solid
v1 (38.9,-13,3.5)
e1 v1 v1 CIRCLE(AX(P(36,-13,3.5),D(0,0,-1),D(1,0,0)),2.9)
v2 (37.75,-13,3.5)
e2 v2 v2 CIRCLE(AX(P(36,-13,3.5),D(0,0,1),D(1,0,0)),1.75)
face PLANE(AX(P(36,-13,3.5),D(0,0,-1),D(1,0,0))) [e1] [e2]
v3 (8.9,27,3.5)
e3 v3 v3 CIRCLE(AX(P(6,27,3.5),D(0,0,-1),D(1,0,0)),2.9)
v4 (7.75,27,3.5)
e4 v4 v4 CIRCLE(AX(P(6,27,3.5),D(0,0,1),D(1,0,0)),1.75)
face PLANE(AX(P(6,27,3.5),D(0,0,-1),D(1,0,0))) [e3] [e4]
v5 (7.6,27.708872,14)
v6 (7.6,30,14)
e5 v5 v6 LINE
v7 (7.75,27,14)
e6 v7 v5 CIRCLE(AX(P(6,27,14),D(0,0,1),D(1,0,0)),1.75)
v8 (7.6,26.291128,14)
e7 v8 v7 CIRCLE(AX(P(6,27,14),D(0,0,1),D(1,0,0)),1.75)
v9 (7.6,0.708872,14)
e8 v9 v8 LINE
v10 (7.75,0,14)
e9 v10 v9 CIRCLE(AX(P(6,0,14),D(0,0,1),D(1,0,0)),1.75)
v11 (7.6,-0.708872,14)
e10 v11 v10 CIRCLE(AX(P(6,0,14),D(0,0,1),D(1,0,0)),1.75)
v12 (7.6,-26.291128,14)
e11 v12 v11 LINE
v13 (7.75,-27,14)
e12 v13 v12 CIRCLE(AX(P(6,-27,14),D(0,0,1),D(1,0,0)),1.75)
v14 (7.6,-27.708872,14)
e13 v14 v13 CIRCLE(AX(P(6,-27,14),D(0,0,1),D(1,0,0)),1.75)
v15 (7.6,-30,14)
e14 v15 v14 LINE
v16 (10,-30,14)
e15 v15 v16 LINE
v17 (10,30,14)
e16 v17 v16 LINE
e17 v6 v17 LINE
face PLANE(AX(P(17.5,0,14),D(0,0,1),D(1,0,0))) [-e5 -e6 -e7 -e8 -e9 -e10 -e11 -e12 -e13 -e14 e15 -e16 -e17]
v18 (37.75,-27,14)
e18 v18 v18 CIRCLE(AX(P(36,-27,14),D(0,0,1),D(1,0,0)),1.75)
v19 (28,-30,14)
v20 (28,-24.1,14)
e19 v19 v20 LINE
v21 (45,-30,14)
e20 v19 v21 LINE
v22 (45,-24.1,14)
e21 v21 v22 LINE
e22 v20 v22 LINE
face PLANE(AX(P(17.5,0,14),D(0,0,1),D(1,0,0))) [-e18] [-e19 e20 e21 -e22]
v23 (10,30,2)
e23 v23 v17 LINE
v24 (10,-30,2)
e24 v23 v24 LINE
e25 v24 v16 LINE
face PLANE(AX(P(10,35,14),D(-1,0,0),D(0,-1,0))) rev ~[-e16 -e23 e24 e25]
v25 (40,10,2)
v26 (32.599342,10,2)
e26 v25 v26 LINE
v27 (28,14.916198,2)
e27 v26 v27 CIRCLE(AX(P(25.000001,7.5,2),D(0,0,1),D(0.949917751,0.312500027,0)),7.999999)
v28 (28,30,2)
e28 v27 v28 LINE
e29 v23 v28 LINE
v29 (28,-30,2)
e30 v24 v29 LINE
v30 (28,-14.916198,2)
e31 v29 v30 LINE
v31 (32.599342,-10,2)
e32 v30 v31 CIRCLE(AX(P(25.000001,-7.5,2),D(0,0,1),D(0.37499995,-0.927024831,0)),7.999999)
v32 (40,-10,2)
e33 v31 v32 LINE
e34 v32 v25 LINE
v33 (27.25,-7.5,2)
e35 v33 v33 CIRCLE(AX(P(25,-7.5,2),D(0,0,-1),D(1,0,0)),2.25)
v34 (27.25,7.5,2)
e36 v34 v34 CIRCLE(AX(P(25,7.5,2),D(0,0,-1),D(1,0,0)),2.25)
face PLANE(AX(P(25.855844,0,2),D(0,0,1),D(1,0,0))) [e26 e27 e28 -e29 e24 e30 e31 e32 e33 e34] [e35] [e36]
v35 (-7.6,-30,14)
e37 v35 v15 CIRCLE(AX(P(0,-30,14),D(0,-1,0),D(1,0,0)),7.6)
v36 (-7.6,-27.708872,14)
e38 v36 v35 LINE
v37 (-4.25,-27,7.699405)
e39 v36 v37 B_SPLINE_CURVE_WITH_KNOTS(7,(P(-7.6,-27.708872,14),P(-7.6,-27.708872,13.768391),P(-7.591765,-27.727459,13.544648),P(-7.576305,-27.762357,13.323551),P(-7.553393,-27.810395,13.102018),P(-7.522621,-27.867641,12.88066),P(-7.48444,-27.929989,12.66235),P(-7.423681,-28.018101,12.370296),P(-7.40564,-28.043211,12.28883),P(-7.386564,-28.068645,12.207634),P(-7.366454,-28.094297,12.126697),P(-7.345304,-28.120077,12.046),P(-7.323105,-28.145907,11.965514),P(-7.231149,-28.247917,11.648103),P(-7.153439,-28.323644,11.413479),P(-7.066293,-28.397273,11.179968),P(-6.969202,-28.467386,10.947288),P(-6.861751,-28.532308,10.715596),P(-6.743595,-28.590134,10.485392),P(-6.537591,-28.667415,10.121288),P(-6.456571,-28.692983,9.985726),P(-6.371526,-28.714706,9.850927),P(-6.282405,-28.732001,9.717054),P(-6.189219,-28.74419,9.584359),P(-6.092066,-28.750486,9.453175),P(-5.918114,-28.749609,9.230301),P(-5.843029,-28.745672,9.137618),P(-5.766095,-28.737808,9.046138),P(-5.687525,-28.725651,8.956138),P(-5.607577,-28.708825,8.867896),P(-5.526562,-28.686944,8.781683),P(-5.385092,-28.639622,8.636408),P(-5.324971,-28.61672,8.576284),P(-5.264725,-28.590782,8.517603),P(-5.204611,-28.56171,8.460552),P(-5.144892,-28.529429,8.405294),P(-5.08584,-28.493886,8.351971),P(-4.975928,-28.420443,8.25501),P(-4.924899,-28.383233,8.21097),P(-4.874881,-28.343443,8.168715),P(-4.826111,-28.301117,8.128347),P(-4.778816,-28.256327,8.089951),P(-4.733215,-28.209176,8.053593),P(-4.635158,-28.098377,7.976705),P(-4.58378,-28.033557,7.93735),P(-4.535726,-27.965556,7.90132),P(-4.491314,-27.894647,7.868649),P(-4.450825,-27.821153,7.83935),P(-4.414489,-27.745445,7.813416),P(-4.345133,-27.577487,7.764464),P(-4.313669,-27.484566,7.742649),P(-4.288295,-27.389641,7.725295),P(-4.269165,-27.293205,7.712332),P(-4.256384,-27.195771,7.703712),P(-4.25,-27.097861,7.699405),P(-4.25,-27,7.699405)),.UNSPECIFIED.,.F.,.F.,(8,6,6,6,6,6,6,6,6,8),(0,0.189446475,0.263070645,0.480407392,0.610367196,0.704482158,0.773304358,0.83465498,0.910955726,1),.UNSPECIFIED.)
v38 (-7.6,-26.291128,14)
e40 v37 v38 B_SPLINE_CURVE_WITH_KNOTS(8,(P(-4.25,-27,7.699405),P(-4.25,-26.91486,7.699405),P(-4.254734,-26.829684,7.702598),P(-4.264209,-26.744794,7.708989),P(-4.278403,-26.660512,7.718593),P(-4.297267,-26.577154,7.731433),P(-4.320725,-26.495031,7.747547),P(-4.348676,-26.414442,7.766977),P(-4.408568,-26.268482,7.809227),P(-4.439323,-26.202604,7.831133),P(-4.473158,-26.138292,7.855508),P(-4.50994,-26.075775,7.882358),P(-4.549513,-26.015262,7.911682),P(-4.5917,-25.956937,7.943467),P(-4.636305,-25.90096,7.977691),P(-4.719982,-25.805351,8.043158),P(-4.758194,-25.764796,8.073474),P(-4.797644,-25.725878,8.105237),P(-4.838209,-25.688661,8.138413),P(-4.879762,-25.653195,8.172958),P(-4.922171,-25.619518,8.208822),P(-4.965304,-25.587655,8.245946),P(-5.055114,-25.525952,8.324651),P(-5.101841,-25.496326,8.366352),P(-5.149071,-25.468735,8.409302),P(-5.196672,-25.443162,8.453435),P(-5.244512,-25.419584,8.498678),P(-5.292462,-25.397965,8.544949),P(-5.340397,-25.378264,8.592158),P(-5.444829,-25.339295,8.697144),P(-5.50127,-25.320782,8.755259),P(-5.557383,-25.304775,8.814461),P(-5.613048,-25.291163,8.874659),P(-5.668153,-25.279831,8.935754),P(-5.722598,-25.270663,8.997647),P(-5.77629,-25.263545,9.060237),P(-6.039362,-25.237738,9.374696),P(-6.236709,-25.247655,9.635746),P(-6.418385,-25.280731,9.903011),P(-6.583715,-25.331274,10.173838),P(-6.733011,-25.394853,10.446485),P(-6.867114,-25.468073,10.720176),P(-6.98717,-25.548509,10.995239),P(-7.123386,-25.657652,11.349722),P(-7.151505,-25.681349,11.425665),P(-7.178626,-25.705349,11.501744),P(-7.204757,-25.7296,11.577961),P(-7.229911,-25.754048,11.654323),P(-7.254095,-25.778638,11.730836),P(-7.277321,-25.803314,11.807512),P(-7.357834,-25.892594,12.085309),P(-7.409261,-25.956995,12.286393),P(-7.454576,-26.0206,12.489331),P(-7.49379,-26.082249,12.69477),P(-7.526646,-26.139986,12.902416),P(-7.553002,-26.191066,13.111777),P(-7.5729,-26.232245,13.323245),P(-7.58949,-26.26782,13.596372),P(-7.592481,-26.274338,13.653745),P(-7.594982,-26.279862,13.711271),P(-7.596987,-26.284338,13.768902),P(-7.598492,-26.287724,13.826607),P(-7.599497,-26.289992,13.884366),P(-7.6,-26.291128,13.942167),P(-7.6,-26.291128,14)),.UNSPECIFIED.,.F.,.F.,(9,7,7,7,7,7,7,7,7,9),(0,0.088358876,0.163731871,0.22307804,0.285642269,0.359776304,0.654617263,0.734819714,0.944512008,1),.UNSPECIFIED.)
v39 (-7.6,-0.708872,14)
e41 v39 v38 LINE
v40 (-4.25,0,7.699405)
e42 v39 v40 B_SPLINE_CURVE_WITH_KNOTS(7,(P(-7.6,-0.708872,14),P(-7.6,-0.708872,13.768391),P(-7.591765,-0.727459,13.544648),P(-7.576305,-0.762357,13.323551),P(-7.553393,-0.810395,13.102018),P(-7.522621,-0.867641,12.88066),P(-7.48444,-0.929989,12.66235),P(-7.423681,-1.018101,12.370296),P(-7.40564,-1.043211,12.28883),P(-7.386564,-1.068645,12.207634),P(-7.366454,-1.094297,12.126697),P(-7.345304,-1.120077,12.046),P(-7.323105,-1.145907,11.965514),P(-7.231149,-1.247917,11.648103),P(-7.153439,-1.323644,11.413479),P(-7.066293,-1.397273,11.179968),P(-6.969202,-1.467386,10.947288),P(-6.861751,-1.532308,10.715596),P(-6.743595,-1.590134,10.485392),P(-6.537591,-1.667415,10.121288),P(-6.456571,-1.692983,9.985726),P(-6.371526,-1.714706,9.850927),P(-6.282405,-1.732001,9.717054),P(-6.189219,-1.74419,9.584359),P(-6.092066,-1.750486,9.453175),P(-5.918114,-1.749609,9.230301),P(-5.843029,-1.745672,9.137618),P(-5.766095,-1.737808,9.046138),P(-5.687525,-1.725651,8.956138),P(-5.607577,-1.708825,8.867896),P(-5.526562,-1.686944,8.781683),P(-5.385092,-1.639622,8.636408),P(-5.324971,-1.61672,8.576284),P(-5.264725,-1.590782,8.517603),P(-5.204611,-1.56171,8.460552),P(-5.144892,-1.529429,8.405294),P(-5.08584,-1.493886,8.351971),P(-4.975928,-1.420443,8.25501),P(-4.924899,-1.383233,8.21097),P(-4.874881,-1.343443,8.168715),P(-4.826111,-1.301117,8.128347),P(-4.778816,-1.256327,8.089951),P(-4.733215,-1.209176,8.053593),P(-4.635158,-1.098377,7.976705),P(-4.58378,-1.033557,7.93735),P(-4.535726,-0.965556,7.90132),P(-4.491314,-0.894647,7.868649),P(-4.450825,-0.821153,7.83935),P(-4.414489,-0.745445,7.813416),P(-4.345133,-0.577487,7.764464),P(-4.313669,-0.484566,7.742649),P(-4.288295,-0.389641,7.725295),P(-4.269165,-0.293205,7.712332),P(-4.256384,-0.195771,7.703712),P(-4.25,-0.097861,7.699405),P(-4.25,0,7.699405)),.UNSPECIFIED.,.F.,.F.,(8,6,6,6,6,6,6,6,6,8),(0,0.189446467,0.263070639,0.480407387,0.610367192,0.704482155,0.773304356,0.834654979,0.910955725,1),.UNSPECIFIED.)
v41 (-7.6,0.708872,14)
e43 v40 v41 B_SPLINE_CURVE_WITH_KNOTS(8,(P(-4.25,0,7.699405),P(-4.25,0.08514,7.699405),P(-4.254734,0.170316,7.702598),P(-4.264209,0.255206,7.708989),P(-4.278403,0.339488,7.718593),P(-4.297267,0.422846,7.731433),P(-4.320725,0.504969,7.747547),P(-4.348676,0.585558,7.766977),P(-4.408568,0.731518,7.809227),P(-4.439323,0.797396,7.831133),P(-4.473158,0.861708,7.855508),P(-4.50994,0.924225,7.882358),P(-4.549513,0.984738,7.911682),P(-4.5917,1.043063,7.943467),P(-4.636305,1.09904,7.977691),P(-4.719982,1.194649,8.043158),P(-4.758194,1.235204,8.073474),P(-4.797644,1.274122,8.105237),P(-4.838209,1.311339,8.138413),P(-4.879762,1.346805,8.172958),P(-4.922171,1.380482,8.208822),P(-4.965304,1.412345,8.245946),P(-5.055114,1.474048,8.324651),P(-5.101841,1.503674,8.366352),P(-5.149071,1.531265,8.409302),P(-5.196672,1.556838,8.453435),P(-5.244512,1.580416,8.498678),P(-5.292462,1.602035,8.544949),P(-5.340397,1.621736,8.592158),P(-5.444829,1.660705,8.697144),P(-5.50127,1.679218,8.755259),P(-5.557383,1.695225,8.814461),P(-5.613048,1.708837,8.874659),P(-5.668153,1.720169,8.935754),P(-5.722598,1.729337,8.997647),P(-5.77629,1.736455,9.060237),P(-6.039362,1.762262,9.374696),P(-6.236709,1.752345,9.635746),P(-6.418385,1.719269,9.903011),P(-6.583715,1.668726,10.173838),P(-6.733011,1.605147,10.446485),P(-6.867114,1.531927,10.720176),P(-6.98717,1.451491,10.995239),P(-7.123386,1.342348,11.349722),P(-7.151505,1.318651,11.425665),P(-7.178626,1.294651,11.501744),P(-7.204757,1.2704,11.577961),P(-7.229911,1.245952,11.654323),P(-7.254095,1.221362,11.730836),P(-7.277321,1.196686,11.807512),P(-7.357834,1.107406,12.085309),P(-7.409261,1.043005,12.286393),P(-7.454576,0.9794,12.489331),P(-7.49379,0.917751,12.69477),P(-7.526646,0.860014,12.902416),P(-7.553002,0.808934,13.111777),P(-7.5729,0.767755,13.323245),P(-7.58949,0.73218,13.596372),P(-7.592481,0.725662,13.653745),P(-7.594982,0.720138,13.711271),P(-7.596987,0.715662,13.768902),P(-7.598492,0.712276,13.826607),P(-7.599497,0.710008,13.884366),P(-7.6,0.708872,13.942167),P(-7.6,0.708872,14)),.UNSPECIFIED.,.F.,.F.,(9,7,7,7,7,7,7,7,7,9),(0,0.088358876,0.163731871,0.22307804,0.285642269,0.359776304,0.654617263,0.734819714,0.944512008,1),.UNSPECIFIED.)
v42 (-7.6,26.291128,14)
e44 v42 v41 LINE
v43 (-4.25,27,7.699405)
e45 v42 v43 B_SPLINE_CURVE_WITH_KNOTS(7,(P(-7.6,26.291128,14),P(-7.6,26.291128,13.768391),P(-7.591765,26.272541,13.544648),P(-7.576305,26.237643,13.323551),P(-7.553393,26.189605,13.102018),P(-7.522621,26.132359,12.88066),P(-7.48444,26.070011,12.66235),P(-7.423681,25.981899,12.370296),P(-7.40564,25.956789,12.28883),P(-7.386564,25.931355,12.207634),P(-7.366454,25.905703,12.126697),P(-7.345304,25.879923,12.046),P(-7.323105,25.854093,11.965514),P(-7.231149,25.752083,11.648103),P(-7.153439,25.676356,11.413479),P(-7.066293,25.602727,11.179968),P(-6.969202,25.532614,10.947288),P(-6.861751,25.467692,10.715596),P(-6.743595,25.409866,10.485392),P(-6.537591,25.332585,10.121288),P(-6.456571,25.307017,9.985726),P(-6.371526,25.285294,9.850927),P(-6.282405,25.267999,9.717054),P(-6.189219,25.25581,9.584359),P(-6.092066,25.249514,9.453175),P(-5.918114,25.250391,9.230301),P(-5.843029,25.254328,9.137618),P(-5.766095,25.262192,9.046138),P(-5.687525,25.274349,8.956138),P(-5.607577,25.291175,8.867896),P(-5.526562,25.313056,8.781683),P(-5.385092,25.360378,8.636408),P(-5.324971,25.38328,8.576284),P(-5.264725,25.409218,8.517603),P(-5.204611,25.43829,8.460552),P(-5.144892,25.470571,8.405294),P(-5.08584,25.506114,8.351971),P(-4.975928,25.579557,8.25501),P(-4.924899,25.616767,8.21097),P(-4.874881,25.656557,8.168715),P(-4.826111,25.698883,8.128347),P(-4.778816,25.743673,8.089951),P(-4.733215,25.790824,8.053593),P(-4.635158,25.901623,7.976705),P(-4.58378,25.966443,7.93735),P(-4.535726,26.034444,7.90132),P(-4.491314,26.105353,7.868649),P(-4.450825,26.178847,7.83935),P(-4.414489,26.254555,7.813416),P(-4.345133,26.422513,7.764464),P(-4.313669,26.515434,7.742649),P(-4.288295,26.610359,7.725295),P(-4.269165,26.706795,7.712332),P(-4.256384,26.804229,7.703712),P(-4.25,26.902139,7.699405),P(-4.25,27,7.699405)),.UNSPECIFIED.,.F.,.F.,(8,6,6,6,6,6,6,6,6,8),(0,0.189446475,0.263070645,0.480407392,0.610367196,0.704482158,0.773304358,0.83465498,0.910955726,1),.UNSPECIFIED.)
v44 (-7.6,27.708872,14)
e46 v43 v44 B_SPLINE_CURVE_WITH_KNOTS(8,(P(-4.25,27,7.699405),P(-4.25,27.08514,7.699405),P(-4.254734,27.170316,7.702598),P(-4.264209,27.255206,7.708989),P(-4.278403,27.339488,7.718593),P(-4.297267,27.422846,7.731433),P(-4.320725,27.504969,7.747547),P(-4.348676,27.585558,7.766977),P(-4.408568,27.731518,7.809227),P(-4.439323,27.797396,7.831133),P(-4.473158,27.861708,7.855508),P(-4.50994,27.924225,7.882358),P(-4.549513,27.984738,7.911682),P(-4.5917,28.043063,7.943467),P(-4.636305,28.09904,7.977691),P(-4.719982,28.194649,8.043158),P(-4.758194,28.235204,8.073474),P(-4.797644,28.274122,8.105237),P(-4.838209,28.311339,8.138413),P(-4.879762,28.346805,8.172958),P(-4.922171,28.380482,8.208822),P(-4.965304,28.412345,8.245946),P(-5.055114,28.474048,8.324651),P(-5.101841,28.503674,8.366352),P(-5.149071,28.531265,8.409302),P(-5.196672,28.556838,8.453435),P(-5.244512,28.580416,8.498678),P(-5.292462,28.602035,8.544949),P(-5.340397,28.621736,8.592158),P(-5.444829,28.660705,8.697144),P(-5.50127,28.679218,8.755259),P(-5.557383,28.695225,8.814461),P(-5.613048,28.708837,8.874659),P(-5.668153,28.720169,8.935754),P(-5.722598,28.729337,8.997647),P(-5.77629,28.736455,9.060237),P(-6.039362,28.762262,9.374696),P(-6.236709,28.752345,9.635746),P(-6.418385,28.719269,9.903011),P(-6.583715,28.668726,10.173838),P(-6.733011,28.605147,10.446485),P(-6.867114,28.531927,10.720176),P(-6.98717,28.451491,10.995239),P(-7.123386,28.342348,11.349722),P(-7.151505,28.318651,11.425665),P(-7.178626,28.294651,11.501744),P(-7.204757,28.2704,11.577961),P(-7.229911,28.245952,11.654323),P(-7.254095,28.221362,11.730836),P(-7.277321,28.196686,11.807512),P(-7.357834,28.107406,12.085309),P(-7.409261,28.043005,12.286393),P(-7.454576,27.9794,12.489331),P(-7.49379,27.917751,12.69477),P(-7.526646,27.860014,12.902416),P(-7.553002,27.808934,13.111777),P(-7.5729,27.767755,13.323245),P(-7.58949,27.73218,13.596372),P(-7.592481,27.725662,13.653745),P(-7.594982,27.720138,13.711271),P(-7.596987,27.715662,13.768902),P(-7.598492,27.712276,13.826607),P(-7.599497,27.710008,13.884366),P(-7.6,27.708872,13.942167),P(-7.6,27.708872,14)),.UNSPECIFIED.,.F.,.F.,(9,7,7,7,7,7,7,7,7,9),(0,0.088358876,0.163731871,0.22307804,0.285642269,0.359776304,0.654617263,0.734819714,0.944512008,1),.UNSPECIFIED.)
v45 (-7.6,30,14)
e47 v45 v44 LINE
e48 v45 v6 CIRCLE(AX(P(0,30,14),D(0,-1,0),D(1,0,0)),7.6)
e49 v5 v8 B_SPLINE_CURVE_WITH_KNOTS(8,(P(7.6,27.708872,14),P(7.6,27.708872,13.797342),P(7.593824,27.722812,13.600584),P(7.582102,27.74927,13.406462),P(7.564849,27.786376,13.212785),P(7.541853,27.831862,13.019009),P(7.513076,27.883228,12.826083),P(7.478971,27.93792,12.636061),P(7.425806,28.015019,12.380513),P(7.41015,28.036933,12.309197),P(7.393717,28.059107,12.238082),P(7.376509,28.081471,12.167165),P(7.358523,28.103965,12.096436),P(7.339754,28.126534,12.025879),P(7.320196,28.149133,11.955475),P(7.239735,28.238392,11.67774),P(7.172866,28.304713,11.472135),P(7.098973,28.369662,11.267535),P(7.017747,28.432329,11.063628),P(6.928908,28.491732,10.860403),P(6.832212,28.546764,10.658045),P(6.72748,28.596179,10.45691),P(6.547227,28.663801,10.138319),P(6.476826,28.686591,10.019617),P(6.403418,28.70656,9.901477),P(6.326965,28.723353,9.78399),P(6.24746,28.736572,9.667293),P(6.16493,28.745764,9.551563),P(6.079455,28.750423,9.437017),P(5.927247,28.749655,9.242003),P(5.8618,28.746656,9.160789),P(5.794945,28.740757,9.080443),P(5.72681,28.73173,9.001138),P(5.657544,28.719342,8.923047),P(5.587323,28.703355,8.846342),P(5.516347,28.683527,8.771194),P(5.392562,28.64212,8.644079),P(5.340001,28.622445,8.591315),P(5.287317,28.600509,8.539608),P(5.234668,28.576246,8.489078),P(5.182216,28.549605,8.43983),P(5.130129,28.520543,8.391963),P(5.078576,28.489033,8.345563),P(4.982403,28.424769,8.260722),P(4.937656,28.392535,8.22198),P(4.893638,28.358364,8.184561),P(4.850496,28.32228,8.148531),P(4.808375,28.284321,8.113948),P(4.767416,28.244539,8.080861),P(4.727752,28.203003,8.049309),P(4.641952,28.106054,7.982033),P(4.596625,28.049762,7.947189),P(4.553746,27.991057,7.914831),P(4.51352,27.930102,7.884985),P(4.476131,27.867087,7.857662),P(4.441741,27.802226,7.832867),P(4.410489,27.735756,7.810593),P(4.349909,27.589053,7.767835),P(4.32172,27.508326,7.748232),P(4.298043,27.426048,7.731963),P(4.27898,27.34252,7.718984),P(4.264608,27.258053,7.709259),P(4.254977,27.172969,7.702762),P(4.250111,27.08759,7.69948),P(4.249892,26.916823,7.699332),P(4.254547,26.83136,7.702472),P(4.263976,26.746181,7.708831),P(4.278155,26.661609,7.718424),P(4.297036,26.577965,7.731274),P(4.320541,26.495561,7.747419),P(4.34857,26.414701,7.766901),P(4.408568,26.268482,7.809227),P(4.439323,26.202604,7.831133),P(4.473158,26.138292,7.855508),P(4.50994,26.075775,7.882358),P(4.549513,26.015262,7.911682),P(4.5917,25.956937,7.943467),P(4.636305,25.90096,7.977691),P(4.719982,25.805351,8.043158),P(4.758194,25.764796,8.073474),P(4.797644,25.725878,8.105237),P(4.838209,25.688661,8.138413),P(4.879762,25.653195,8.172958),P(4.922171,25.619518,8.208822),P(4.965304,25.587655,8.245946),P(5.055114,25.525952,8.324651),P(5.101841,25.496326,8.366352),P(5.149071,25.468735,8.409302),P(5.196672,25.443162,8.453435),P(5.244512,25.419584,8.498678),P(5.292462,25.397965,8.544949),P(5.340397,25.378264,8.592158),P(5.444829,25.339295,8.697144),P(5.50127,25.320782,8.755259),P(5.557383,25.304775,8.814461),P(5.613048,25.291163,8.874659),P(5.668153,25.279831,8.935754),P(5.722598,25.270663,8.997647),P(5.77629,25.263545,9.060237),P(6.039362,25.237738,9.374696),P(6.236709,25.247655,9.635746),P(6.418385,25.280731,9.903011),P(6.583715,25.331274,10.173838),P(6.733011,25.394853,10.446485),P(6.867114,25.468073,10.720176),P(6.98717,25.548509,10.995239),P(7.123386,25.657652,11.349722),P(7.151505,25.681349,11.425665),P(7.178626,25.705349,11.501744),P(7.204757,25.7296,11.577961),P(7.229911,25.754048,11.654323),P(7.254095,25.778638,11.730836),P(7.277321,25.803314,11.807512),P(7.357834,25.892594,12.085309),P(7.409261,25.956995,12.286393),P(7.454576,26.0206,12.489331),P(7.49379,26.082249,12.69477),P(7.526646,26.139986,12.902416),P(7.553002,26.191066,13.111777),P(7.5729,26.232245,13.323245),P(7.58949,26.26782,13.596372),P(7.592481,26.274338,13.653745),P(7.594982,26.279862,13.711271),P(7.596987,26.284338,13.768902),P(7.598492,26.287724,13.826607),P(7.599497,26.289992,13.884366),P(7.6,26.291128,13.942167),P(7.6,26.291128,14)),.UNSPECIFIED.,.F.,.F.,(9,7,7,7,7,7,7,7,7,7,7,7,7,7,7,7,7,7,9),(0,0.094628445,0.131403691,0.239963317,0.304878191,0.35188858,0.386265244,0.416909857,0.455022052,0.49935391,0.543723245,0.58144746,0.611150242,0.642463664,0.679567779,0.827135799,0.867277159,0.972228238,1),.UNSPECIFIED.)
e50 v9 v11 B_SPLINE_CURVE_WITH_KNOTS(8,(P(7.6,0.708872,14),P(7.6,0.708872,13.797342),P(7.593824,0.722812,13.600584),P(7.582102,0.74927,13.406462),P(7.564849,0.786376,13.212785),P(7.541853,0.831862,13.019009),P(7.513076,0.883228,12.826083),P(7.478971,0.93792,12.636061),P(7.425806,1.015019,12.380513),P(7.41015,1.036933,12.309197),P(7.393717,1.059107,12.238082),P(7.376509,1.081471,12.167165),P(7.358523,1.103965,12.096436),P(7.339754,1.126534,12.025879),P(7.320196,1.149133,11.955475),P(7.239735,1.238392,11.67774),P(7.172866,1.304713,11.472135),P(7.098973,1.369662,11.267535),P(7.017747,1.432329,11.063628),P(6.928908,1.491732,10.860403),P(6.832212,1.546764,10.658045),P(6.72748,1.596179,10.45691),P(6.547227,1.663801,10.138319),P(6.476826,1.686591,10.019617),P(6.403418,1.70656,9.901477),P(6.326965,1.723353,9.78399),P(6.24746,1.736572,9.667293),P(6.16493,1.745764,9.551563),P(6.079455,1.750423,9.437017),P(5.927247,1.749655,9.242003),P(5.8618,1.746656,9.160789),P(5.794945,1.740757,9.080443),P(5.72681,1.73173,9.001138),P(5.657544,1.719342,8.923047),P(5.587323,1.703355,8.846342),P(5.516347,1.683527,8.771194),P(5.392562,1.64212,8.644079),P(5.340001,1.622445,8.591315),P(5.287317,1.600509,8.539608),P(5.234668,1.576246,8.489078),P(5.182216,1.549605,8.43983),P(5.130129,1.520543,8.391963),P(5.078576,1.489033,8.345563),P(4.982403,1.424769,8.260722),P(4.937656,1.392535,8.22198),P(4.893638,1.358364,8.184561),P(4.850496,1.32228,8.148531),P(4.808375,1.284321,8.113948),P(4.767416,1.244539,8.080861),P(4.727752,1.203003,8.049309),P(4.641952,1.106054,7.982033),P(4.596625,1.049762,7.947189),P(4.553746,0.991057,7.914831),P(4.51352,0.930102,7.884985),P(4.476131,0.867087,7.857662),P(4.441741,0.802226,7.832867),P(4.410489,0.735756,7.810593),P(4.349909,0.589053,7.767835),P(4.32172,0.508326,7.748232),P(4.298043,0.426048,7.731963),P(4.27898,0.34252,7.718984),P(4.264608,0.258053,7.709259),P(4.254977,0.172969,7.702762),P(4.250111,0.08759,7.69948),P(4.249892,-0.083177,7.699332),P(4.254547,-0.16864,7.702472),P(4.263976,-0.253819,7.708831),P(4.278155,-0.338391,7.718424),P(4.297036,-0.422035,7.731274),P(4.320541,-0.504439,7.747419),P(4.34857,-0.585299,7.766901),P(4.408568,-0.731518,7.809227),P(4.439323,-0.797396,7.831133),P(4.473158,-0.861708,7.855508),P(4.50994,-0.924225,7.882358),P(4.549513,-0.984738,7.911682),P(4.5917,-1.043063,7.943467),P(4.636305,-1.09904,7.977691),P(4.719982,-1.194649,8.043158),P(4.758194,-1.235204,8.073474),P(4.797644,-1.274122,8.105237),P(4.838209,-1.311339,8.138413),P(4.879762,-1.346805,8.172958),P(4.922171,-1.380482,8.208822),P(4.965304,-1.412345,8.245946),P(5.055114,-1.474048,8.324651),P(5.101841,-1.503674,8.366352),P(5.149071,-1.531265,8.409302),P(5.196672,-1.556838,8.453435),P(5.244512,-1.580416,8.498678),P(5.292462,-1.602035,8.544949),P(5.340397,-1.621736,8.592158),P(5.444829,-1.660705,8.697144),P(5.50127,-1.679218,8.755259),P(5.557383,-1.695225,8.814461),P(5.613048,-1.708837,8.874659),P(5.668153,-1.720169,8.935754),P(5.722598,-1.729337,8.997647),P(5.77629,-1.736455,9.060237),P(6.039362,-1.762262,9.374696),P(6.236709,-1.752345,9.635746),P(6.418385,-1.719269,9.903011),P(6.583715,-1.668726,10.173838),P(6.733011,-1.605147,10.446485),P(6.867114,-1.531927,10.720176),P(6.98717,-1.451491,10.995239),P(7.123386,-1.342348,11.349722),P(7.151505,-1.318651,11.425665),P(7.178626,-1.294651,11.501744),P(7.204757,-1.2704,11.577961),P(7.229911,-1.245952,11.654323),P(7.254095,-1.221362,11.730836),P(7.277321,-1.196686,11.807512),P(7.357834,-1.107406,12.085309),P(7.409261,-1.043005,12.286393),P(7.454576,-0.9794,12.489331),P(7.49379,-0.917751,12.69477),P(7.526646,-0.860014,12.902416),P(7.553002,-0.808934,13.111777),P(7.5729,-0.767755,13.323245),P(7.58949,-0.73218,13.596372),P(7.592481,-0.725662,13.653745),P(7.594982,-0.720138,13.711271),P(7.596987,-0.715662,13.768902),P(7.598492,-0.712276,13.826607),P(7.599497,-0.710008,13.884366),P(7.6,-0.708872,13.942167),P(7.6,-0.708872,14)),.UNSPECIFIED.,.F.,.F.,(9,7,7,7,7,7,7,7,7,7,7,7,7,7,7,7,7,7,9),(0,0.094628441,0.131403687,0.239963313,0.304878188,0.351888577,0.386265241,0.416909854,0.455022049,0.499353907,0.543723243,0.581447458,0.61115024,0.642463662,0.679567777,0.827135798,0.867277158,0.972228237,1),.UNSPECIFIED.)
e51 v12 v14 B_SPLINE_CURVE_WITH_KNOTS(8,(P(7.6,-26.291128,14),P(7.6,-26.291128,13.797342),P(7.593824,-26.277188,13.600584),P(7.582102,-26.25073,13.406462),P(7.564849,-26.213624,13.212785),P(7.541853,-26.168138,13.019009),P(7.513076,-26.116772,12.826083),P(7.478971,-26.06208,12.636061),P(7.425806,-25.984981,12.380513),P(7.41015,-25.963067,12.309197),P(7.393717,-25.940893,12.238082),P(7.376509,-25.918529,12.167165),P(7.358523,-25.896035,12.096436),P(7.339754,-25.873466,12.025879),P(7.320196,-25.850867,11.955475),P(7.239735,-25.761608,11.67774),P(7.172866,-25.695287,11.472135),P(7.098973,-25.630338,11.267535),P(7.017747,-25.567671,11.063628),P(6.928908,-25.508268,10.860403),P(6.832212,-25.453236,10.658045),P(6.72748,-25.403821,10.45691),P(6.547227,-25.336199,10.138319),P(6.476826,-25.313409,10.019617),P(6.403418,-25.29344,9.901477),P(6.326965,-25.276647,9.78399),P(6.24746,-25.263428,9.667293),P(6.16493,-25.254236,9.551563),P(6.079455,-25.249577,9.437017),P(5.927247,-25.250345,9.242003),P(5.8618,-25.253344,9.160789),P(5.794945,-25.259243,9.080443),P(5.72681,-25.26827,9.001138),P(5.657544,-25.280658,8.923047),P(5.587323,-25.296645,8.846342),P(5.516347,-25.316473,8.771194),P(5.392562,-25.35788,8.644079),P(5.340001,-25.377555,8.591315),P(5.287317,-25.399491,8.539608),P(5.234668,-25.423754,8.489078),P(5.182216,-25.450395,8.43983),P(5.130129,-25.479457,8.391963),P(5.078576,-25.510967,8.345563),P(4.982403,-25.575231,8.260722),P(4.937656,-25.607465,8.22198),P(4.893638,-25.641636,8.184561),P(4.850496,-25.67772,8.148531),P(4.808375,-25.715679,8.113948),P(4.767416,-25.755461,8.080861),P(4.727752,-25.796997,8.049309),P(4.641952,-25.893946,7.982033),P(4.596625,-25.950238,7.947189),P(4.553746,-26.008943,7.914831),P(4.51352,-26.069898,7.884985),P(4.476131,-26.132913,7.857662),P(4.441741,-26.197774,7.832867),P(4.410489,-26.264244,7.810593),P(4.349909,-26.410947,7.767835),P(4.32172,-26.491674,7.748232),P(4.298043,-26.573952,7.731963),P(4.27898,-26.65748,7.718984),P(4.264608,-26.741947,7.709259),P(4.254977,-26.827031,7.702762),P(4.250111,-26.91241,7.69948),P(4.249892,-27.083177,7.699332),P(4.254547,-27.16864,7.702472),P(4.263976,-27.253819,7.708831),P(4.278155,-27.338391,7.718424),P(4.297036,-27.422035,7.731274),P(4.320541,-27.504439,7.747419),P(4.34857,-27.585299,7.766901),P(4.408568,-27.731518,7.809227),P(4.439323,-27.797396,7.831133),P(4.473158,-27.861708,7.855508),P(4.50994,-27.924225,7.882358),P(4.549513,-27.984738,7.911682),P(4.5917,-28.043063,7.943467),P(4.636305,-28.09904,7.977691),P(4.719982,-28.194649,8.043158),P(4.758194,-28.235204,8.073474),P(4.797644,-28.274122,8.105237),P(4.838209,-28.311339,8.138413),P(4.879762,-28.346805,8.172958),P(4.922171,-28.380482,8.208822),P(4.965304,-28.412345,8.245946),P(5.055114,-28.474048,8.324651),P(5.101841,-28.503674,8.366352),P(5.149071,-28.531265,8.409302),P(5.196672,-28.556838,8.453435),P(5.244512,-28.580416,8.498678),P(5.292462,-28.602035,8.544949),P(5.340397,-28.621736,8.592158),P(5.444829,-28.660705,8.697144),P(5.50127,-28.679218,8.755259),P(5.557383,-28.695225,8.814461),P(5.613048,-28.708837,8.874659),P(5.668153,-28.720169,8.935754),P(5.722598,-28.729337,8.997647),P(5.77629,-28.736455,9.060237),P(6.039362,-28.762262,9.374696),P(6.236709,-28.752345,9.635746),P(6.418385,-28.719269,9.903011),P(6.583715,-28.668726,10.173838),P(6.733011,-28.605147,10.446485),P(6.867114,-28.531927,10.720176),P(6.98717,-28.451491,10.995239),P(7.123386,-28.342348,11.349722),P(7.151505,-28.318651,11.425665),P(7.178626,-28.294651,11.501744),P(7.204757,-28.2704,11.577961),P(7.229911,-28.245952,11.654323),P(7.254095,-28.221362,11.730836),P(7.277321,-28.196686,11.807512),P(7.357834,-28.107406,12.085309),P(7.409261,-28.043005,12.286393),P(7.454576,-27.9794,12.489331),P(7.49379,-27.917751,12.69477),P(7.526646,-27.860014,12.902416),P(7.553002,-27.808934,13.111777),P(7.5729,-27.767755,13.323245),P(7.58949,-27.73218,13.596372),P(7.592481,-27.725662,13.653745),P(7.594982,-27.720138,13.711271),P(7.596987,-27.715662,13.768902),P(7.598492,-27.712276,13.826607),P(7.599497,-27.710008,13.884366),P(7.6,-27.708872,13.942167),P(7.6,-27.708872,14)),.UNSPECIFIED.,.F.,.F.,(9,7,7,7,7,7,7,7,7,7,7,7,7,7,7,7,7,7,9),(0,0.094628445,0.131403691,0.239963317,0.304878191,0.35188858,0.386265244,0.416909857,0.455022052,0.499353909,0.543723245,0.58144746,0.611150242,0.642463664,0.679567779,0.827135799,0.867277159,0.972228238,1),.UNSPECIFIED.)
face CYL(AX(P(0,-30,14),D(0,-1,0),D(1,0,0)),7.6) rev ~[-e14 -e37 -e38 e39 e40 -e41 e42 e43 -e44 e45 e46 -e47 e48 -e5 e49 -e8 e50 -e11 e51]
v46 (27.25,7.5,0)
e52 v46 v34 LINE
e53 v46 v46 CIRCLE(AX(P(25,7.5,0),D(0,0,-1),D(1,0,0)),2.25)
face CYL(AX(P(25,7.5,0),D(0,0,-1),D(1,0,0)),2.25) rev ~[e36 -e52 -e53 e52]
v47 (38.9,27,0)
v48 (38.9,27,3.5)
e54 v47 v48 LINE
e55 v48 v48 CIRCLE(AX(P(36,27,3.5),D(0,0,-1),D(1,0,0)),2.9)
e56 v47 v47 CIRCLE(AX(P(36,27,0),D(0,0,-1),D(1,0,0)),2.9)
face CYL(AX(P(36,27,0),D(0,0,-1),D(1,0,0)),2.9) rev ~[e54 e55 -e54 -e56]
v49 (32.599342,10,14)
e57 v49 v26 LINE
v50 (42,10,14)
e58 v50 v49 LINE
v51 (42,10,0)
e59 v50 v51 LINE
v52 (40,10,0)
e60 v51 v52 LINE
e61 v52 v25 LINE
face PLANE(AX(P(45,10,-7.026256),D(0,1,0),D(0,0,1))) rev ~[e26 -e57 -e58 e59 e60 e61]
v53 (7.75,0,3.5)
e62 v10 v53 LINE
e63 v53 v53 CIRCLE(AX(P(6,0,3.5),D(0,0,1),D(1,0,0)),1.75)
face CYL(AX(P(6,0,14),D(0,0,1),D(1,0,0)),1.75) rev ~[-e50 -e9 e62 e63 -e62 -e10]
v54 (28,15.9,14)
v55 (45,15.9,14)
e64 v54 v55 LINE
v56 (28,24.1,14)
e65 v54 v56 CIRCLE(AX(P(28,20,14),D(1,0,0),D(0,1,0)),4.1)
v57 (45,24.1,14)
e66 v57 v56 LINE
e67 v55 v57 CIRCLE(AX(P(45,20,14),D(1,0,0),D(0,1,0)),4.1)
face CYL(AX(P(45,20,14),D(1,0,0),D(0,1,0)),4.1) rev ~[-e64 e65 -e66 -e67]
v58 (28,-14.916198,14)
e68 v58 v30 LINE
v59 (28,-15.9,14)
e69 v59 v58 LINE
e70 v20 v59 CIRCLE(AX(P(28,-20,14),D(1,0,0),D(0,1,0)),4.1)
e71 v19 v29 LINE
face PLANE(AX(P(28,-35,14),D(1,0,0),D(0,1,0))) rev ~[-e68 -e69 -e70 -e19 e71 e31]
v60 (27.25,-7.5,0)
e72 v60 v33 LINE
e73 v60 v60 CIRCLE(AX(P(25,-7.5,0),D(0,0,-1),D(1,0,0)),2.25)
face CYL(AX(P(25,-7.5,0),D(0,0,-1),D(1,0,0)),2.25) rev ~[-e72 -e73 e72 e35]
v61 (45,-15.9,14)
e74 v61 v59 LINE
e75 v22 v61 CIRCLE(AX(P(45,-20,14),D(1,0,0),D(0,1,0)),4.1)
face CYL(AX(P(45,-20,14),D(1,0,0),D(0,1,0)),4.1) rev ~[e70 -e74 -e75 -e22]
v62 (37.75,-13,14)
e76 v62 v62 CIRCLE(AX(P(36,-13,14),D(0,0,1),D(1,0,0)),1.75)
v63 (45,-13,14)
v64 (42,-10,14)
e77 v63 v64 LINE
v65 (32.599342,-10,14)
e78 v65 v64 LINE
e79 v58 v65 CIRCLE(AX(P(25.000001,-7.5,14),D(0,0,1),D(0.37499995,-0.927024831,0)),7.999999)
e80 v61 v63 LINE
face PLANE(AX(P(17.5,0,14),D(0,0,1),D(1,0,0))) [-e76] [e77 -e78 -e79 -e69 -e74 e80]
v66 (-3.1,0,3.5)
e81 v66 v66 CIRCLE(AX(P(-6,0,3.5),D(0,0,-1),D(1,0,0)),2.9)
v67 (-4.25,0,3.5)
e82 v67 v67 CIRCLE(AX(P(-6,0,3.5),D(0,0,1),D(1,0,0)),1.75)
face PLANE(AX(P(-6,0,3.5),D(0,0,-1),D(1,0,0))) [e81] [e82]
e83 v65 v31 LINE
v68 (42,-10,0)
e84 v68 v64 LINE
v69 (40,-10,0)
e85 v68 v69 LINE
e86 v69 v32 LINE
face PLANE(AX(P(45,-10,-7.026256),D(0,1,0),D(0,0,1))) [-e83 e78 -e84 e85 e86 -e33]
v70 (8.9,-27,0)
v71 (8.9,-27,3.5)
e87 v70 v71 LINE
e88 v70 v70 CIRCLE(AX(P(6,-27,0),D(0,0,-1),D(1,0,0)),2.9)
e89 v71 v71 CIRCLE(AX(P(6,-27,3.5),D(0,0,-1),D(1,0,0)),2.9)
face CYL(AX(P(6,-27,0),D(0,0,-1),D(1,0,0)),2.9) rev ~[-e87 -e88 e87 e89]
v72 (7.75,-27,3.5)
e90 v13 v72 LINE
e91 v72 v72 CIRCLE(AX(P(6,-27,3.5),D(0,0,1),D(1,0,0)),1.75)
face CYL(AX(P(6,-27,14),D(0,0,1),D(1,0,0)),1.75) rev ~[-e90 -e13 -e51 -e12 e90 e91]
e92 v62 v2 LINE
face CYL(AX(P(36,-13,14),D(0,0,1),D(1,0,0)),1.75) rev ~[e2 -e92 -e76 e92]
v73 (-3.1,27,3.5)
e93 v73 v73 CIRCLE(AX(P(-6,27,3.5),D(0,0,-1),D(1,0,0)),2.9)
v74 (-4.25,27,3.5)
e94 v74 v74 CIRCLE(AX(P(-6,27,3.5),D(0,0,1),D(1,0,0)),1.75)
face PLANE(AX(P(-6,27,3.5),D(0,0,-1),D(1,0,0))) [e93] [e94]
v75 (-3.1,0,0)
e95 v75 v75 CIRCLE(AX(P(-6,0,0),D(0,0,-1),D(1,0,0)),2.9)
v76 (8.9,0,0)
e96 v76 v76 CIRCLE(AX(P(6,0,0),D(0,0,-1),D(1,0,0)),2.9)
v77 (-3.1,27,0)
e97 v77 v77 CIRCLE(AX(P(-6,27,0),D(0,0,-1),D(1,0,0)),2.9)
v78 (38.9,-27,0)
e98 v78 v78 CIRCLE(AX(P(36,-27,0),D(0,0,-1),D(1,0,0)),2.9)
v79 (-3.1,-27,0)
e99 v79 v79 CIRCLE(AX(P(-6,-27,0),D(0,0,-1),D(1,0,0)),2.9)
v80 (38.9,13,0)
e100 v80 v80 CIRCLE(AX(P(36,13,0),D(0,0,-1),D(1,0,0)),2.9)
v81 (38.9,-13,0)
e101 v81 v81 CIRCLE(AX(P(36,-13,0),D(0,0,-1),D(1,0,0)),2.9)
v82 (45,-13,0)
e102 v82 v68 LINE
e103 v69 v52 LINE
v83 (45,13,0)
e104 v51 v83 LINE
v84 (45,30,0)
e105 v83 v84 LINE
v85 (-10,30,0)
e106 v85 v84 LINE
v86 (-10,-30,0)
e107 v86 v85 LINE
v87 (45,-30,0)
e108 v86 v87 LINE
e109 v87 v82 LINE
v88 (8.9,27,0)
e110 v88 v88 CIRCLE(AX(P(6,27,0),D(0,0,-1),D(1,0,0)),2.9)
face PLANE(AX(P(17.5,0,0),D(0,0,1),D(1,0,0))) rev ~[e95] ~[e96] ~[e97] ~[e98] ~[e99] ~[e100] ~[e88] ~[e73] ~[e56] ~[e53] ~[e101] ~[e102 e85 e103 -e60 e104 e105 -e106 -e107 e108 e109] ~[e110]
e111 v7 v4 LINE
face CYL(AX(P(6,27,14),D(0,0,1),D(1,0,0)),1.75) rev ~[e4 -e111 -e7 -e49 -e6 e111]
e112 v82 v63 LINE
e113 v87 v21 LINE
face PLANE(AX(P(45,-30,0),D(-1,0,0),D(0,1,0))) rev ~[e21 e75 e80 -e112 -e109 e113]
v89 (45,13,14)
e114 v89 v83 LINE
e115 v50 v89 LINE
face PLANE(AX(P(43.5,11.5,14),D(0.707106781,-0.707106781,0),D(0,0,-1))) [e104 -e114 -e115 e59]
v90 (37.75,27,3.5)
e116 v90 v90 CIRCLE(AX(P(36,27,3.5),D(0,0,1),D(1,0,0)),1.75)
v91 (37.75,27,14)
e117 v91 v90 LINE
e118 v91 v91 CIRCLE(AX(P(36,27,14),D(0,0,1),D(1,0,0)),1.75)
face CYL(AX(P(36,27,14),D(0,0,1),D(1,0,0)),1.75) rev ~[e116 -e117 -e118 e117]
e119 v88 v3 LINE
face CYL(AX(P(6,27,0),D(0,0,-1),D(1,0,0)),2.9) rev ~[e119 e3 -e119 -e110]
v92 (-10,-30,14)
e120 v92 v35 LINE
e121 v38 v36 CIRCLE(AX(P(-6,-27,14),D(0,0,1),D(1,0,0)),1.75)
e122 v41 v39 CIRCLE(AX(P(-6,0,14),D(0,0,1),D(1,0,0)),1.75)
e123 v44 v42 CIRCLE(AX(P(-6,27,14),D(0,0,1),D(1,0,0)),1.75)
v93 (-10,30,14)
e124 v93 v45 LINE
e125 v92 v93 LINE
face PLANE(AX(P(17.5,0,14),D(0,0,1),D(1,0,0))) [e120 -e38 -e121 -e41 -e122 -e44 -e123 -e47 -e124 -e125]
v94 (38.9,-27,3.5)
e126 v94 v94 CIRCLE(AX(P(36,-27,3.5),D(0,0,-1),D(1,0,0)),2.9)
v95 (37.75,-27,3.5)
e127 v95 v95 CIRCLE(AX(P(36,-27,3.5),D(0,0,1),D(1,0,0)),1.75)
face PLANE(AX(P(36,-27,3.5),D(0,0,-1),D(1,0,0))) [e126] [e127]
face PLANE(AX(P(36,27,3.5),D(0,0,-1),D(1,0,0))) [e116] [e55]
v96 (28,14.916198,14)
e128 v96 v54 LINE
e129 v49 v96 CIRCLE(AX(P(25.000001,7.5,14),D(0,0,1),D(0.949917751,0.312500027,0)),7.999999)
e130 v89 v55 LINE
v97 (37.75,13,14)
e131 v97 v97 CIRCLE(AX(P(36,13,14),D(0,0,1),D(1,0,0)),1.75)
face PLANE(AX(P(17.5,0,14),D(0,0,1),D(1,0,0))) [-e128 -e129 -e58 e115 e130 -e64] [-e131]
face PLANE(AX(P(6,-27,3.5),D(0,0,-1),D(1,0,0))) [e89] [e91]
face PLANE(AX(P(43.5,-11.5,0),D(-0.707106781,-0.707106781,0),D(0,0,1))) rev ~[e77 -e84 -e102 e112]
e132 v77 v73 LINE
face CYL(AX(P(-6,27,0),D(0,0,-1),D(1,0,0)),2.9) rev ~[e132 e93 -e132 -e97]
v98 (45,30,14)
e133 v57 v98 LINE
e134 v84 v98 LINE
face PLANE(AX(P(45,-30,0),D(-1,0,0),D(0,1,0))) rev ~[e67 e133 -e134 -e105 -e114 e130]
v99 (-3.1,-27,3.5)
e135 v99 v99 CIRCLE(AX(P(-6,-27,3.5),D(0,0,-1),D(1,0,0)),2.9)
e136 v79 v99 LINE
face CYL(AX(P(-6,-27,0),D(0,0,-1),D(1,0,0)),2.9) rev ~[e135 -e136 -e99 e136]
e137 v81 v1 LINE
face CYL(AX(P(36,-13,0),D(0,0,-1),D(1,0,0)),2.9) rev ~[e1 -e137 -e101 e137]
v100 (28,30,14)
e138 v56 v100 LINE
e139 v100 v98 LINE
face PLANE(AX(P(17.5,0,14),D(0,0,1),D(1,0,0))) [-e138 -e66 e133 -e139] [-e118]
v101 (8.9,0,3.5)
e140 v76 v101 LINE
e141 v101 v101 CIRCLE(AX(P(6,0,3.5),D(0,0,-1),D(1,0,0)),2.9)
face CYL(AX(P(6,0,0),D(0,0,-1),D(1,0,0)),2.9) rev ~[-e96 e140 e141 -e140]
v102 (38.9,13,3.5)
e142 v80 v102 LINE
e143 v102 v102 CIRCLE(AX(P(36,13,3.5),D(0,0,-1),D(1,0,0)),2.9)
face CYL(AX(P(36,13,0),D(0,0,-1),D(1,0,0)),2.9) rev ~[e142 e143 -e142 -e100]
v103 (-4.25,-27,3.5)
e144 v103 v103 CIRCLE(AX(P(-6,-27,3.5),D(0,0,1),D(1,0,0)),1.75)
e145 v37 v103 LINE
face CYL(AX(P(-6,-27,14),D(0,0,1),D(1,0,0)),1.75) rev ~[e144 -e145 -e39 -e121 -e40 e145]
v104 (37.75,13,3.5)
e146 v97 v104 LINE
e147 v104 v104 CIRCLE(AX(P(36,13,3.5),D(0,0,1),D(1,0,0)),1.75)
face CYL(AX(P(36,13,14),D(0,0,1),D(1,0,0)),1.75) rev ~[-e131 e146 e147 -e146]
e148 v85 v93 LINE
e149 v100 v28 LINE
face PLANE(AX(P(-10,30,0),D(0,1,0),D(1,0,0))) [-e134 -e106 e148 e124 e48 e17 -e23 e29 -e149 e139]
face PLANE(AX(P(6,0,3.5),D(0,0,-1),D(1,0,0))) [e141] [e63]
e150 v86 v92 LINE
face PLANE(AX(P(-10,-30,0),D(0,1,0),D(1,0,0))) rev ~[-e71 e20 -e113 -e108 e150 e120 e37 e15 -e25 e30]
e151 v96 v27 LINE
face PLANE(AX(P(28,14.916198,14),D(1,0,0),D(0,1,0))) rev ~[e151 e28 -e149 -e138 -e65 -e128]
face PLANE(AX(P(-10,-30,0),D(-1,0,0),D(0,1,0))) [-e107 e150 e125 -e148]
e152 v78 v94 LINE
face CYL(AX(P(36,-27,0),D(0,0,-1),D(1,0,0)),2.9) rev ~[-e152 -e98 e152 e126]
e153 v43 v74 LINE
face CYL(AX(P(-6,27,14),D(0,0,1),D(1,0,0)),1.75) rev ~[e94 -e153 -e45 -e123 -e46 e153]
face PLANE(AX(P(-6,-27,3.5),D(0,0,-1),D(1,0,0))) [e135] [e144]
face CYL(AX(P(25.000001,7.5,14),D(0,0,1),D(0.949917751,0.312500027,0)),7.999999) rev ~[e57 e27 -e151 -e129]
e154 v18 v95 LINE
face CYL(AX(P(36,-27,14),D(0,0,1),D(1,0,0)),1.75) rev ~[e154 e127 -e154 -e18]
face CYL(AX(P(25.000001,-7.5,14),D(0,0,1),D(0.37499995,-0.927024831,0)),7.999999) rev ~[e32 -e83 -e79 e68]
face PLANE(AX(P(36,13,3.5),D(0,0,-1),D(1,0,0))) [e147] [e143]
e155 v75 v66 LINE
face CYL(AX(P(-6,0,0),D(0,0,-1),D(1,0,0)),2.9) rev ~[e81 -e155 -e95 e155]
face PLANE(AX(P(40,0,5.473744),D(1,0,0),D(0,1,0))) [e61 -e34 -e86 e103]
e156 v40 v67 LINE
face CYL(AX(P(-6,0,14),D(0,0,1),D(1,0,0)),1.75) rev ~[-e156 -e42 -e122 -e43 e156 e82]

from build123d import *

# Parameters (mm, degrees)
SKETCH_W        = 55
SKETCH_H        = 60
PAD_DEPTH       = 14
SKETCH001_R     = 7.6
POCKET_DEPTH    = 60.001
SKETCH002_R     = 1.75
POCKET001_DEPTH = 14.001
POCKET002_DEPTH = 12
SKETCH004_R     = 2.25
POCKET003_DEPTH = 14.001
SKETCH008_R     = 4.1
POCKET005_DEPTH = 20
SKETCH010_W     = 20
SKETCH010_H     = 25
POCKET006_DEPTH = 5
CHAMFER_SIZE    = 3
SKETCH011_R     = 2.9
POCKET007_DEPTH = 3.5


with BuildPart() as part:
    # Sketch → Pad (new body)
    with BuildSketch(Plane.XY):
        with Locations((17.5, 0)):
            Rectangle(SKETCH_W, SKETCH_H)
    extrude(amount=PAD_DEPTH)

    # Sketch001 → Pocket (cut, through all)
    with BuildSketch(Plane.XZ.offset(30)):
        with Locations((0, 14)):
            Circle(SKETCH001_R)
    extrude(amount=-POCKET_DEPTH, mode=Mode.SUBTRACT)

    # Sketch002 → Pocket001 (cut, through all)
    with BuildSketch(Plane.XY.offset(14)):
        with Locations((-6, 27)):
            Circle(SKETCH002_R)
        with Locations((36, 27)):
            Circle(SKETCH002_R)
        with Locations((-6, -27)):
            Circle(SKETCH002_R)
        with Locations((36, -27)):
            Circle(SKETCH002_R)
        with Locations((6, 27)):
            Circle(SKETCH002_R)
        with Locations((6, -27)):
            Circle(SKETCH002_R)
        with Locations((6, 0)):
            Circle(SKETCH002_R)
        with Locations((-6, 0)):
            Circle(SKETCH002_R)
        with Locations((36, -13)):
            Circle(SKETCH002_R)
        with Locations((36, 13)):
            Circle(SKETCH002_R)
    extrude(amount=-POCKET001_DEPTH, mode=Mode.SUBTRACT)

    # Sketch003 → Pocket002 (cut)
    with BuildSketch(Plane.XY.offset(14)):
        with BuildLine():
            Line((10, 35), (10, -35))
            Line((10, -35), (28, -35))
            Line((28, -35), (28, -14.916198))
            ThreePointArc((28, -14.916198), (30.841983, -12.965458), (32.599342, -10))
            Line((32.599342, -10), (52.599342, -10))
            Line((52.599342, -10), (52.599342, 10))
            Line((52.599342, 10), (32.599342, 10))
            ThreePointArc((32.599342, 10), (30.841983, 12.965458), (28, 14.916198))
            Line((28, 14.916198), (28, 35))
            Line((28, 35), (10, 35))
        make_face()
    extrude(amount=-POCKET002_DEPTH, mode=Mode.SUBTRACT)

    # Sketch004 → Pocket003 (cut, through all)
    with BuildSketch(Plane(origin=(0, 0, 0), x_dir=(1, 0, 0), z_dir=(0, 0, -1))):
        with Locations((25, 7.5)):
            Circle(SKETCH004_R)
        with Locations((25, -7.5)):
            Circle(SKETCH004_R)
    extrude(amount=-POCKET003_DEPTH, mode=Mode.SUBTRACT)

    # Sketch008 → Pocket005 (cut)
    with BuildSketch(Plane.YZ.offset(45)):
        with Locations((-20, 14)):
            Circle(SKETCH008_R)
        with Locations((20, 14)):
            Circle(SKETCH008_R)
    extrude(amount=-POCKET005_DEPTH, mode=Mode.SUBTRACT)

    # Sketch010 → Pocket006 (cut)
    with BuildSketch(Plane.YZ.offset(45)):
        with Locations((0, 5.473744)):
            Rectangle(SKETCH010_W, SKETCH010_H)
    extrude(amount=-POCKET006_DEPTH, mode=Mode.SUBTRACT)

    # Chamfer
    chamfer_edges = [part.edges().sort_by_distance(p)[0] for p in [
        (45, -10, 8),
        (45, 10, 8),
    ]]
    chamfer(chamfer_edges, length=CHAMFER_SIZE)

    # Sketch011 → Pocket007 (cut)
    with BuildSketch(Plane(origin=(0, 0, 0), x_dir=(1, 0, 0), z_dir=(0, 0, -1))):
        with Locations((36, 27)):
            Circle(SKETCH011_R)
        with Locations((36, 13)):
            Circle(SKETCH011_R)
        with Locations((36, -13)):
            Circle(SKETCH011_R)
        with Locations((36, -27)):
            Circle(SKETCH011_R)
        with Locations((-6, 27)):
            Circle(SKETCH011_R)
        with Locations((6, 27)):
            Circle(SKETCH011_R)
        with Locations((-6, 0)):
            Circle(SKETCH011_R)
        with Locations((6, 0)):
            Circle(SKETCH011_R)
        with Locations((-6, -27)):
            Circle(SKETCH011_R)
        with Locations((6, -27)):
            Circle(SKETCH011_R)
    extrude(amount=-POCKET007_DEPTH, mode=Mode.SUBTRACT)


solid = part.part
